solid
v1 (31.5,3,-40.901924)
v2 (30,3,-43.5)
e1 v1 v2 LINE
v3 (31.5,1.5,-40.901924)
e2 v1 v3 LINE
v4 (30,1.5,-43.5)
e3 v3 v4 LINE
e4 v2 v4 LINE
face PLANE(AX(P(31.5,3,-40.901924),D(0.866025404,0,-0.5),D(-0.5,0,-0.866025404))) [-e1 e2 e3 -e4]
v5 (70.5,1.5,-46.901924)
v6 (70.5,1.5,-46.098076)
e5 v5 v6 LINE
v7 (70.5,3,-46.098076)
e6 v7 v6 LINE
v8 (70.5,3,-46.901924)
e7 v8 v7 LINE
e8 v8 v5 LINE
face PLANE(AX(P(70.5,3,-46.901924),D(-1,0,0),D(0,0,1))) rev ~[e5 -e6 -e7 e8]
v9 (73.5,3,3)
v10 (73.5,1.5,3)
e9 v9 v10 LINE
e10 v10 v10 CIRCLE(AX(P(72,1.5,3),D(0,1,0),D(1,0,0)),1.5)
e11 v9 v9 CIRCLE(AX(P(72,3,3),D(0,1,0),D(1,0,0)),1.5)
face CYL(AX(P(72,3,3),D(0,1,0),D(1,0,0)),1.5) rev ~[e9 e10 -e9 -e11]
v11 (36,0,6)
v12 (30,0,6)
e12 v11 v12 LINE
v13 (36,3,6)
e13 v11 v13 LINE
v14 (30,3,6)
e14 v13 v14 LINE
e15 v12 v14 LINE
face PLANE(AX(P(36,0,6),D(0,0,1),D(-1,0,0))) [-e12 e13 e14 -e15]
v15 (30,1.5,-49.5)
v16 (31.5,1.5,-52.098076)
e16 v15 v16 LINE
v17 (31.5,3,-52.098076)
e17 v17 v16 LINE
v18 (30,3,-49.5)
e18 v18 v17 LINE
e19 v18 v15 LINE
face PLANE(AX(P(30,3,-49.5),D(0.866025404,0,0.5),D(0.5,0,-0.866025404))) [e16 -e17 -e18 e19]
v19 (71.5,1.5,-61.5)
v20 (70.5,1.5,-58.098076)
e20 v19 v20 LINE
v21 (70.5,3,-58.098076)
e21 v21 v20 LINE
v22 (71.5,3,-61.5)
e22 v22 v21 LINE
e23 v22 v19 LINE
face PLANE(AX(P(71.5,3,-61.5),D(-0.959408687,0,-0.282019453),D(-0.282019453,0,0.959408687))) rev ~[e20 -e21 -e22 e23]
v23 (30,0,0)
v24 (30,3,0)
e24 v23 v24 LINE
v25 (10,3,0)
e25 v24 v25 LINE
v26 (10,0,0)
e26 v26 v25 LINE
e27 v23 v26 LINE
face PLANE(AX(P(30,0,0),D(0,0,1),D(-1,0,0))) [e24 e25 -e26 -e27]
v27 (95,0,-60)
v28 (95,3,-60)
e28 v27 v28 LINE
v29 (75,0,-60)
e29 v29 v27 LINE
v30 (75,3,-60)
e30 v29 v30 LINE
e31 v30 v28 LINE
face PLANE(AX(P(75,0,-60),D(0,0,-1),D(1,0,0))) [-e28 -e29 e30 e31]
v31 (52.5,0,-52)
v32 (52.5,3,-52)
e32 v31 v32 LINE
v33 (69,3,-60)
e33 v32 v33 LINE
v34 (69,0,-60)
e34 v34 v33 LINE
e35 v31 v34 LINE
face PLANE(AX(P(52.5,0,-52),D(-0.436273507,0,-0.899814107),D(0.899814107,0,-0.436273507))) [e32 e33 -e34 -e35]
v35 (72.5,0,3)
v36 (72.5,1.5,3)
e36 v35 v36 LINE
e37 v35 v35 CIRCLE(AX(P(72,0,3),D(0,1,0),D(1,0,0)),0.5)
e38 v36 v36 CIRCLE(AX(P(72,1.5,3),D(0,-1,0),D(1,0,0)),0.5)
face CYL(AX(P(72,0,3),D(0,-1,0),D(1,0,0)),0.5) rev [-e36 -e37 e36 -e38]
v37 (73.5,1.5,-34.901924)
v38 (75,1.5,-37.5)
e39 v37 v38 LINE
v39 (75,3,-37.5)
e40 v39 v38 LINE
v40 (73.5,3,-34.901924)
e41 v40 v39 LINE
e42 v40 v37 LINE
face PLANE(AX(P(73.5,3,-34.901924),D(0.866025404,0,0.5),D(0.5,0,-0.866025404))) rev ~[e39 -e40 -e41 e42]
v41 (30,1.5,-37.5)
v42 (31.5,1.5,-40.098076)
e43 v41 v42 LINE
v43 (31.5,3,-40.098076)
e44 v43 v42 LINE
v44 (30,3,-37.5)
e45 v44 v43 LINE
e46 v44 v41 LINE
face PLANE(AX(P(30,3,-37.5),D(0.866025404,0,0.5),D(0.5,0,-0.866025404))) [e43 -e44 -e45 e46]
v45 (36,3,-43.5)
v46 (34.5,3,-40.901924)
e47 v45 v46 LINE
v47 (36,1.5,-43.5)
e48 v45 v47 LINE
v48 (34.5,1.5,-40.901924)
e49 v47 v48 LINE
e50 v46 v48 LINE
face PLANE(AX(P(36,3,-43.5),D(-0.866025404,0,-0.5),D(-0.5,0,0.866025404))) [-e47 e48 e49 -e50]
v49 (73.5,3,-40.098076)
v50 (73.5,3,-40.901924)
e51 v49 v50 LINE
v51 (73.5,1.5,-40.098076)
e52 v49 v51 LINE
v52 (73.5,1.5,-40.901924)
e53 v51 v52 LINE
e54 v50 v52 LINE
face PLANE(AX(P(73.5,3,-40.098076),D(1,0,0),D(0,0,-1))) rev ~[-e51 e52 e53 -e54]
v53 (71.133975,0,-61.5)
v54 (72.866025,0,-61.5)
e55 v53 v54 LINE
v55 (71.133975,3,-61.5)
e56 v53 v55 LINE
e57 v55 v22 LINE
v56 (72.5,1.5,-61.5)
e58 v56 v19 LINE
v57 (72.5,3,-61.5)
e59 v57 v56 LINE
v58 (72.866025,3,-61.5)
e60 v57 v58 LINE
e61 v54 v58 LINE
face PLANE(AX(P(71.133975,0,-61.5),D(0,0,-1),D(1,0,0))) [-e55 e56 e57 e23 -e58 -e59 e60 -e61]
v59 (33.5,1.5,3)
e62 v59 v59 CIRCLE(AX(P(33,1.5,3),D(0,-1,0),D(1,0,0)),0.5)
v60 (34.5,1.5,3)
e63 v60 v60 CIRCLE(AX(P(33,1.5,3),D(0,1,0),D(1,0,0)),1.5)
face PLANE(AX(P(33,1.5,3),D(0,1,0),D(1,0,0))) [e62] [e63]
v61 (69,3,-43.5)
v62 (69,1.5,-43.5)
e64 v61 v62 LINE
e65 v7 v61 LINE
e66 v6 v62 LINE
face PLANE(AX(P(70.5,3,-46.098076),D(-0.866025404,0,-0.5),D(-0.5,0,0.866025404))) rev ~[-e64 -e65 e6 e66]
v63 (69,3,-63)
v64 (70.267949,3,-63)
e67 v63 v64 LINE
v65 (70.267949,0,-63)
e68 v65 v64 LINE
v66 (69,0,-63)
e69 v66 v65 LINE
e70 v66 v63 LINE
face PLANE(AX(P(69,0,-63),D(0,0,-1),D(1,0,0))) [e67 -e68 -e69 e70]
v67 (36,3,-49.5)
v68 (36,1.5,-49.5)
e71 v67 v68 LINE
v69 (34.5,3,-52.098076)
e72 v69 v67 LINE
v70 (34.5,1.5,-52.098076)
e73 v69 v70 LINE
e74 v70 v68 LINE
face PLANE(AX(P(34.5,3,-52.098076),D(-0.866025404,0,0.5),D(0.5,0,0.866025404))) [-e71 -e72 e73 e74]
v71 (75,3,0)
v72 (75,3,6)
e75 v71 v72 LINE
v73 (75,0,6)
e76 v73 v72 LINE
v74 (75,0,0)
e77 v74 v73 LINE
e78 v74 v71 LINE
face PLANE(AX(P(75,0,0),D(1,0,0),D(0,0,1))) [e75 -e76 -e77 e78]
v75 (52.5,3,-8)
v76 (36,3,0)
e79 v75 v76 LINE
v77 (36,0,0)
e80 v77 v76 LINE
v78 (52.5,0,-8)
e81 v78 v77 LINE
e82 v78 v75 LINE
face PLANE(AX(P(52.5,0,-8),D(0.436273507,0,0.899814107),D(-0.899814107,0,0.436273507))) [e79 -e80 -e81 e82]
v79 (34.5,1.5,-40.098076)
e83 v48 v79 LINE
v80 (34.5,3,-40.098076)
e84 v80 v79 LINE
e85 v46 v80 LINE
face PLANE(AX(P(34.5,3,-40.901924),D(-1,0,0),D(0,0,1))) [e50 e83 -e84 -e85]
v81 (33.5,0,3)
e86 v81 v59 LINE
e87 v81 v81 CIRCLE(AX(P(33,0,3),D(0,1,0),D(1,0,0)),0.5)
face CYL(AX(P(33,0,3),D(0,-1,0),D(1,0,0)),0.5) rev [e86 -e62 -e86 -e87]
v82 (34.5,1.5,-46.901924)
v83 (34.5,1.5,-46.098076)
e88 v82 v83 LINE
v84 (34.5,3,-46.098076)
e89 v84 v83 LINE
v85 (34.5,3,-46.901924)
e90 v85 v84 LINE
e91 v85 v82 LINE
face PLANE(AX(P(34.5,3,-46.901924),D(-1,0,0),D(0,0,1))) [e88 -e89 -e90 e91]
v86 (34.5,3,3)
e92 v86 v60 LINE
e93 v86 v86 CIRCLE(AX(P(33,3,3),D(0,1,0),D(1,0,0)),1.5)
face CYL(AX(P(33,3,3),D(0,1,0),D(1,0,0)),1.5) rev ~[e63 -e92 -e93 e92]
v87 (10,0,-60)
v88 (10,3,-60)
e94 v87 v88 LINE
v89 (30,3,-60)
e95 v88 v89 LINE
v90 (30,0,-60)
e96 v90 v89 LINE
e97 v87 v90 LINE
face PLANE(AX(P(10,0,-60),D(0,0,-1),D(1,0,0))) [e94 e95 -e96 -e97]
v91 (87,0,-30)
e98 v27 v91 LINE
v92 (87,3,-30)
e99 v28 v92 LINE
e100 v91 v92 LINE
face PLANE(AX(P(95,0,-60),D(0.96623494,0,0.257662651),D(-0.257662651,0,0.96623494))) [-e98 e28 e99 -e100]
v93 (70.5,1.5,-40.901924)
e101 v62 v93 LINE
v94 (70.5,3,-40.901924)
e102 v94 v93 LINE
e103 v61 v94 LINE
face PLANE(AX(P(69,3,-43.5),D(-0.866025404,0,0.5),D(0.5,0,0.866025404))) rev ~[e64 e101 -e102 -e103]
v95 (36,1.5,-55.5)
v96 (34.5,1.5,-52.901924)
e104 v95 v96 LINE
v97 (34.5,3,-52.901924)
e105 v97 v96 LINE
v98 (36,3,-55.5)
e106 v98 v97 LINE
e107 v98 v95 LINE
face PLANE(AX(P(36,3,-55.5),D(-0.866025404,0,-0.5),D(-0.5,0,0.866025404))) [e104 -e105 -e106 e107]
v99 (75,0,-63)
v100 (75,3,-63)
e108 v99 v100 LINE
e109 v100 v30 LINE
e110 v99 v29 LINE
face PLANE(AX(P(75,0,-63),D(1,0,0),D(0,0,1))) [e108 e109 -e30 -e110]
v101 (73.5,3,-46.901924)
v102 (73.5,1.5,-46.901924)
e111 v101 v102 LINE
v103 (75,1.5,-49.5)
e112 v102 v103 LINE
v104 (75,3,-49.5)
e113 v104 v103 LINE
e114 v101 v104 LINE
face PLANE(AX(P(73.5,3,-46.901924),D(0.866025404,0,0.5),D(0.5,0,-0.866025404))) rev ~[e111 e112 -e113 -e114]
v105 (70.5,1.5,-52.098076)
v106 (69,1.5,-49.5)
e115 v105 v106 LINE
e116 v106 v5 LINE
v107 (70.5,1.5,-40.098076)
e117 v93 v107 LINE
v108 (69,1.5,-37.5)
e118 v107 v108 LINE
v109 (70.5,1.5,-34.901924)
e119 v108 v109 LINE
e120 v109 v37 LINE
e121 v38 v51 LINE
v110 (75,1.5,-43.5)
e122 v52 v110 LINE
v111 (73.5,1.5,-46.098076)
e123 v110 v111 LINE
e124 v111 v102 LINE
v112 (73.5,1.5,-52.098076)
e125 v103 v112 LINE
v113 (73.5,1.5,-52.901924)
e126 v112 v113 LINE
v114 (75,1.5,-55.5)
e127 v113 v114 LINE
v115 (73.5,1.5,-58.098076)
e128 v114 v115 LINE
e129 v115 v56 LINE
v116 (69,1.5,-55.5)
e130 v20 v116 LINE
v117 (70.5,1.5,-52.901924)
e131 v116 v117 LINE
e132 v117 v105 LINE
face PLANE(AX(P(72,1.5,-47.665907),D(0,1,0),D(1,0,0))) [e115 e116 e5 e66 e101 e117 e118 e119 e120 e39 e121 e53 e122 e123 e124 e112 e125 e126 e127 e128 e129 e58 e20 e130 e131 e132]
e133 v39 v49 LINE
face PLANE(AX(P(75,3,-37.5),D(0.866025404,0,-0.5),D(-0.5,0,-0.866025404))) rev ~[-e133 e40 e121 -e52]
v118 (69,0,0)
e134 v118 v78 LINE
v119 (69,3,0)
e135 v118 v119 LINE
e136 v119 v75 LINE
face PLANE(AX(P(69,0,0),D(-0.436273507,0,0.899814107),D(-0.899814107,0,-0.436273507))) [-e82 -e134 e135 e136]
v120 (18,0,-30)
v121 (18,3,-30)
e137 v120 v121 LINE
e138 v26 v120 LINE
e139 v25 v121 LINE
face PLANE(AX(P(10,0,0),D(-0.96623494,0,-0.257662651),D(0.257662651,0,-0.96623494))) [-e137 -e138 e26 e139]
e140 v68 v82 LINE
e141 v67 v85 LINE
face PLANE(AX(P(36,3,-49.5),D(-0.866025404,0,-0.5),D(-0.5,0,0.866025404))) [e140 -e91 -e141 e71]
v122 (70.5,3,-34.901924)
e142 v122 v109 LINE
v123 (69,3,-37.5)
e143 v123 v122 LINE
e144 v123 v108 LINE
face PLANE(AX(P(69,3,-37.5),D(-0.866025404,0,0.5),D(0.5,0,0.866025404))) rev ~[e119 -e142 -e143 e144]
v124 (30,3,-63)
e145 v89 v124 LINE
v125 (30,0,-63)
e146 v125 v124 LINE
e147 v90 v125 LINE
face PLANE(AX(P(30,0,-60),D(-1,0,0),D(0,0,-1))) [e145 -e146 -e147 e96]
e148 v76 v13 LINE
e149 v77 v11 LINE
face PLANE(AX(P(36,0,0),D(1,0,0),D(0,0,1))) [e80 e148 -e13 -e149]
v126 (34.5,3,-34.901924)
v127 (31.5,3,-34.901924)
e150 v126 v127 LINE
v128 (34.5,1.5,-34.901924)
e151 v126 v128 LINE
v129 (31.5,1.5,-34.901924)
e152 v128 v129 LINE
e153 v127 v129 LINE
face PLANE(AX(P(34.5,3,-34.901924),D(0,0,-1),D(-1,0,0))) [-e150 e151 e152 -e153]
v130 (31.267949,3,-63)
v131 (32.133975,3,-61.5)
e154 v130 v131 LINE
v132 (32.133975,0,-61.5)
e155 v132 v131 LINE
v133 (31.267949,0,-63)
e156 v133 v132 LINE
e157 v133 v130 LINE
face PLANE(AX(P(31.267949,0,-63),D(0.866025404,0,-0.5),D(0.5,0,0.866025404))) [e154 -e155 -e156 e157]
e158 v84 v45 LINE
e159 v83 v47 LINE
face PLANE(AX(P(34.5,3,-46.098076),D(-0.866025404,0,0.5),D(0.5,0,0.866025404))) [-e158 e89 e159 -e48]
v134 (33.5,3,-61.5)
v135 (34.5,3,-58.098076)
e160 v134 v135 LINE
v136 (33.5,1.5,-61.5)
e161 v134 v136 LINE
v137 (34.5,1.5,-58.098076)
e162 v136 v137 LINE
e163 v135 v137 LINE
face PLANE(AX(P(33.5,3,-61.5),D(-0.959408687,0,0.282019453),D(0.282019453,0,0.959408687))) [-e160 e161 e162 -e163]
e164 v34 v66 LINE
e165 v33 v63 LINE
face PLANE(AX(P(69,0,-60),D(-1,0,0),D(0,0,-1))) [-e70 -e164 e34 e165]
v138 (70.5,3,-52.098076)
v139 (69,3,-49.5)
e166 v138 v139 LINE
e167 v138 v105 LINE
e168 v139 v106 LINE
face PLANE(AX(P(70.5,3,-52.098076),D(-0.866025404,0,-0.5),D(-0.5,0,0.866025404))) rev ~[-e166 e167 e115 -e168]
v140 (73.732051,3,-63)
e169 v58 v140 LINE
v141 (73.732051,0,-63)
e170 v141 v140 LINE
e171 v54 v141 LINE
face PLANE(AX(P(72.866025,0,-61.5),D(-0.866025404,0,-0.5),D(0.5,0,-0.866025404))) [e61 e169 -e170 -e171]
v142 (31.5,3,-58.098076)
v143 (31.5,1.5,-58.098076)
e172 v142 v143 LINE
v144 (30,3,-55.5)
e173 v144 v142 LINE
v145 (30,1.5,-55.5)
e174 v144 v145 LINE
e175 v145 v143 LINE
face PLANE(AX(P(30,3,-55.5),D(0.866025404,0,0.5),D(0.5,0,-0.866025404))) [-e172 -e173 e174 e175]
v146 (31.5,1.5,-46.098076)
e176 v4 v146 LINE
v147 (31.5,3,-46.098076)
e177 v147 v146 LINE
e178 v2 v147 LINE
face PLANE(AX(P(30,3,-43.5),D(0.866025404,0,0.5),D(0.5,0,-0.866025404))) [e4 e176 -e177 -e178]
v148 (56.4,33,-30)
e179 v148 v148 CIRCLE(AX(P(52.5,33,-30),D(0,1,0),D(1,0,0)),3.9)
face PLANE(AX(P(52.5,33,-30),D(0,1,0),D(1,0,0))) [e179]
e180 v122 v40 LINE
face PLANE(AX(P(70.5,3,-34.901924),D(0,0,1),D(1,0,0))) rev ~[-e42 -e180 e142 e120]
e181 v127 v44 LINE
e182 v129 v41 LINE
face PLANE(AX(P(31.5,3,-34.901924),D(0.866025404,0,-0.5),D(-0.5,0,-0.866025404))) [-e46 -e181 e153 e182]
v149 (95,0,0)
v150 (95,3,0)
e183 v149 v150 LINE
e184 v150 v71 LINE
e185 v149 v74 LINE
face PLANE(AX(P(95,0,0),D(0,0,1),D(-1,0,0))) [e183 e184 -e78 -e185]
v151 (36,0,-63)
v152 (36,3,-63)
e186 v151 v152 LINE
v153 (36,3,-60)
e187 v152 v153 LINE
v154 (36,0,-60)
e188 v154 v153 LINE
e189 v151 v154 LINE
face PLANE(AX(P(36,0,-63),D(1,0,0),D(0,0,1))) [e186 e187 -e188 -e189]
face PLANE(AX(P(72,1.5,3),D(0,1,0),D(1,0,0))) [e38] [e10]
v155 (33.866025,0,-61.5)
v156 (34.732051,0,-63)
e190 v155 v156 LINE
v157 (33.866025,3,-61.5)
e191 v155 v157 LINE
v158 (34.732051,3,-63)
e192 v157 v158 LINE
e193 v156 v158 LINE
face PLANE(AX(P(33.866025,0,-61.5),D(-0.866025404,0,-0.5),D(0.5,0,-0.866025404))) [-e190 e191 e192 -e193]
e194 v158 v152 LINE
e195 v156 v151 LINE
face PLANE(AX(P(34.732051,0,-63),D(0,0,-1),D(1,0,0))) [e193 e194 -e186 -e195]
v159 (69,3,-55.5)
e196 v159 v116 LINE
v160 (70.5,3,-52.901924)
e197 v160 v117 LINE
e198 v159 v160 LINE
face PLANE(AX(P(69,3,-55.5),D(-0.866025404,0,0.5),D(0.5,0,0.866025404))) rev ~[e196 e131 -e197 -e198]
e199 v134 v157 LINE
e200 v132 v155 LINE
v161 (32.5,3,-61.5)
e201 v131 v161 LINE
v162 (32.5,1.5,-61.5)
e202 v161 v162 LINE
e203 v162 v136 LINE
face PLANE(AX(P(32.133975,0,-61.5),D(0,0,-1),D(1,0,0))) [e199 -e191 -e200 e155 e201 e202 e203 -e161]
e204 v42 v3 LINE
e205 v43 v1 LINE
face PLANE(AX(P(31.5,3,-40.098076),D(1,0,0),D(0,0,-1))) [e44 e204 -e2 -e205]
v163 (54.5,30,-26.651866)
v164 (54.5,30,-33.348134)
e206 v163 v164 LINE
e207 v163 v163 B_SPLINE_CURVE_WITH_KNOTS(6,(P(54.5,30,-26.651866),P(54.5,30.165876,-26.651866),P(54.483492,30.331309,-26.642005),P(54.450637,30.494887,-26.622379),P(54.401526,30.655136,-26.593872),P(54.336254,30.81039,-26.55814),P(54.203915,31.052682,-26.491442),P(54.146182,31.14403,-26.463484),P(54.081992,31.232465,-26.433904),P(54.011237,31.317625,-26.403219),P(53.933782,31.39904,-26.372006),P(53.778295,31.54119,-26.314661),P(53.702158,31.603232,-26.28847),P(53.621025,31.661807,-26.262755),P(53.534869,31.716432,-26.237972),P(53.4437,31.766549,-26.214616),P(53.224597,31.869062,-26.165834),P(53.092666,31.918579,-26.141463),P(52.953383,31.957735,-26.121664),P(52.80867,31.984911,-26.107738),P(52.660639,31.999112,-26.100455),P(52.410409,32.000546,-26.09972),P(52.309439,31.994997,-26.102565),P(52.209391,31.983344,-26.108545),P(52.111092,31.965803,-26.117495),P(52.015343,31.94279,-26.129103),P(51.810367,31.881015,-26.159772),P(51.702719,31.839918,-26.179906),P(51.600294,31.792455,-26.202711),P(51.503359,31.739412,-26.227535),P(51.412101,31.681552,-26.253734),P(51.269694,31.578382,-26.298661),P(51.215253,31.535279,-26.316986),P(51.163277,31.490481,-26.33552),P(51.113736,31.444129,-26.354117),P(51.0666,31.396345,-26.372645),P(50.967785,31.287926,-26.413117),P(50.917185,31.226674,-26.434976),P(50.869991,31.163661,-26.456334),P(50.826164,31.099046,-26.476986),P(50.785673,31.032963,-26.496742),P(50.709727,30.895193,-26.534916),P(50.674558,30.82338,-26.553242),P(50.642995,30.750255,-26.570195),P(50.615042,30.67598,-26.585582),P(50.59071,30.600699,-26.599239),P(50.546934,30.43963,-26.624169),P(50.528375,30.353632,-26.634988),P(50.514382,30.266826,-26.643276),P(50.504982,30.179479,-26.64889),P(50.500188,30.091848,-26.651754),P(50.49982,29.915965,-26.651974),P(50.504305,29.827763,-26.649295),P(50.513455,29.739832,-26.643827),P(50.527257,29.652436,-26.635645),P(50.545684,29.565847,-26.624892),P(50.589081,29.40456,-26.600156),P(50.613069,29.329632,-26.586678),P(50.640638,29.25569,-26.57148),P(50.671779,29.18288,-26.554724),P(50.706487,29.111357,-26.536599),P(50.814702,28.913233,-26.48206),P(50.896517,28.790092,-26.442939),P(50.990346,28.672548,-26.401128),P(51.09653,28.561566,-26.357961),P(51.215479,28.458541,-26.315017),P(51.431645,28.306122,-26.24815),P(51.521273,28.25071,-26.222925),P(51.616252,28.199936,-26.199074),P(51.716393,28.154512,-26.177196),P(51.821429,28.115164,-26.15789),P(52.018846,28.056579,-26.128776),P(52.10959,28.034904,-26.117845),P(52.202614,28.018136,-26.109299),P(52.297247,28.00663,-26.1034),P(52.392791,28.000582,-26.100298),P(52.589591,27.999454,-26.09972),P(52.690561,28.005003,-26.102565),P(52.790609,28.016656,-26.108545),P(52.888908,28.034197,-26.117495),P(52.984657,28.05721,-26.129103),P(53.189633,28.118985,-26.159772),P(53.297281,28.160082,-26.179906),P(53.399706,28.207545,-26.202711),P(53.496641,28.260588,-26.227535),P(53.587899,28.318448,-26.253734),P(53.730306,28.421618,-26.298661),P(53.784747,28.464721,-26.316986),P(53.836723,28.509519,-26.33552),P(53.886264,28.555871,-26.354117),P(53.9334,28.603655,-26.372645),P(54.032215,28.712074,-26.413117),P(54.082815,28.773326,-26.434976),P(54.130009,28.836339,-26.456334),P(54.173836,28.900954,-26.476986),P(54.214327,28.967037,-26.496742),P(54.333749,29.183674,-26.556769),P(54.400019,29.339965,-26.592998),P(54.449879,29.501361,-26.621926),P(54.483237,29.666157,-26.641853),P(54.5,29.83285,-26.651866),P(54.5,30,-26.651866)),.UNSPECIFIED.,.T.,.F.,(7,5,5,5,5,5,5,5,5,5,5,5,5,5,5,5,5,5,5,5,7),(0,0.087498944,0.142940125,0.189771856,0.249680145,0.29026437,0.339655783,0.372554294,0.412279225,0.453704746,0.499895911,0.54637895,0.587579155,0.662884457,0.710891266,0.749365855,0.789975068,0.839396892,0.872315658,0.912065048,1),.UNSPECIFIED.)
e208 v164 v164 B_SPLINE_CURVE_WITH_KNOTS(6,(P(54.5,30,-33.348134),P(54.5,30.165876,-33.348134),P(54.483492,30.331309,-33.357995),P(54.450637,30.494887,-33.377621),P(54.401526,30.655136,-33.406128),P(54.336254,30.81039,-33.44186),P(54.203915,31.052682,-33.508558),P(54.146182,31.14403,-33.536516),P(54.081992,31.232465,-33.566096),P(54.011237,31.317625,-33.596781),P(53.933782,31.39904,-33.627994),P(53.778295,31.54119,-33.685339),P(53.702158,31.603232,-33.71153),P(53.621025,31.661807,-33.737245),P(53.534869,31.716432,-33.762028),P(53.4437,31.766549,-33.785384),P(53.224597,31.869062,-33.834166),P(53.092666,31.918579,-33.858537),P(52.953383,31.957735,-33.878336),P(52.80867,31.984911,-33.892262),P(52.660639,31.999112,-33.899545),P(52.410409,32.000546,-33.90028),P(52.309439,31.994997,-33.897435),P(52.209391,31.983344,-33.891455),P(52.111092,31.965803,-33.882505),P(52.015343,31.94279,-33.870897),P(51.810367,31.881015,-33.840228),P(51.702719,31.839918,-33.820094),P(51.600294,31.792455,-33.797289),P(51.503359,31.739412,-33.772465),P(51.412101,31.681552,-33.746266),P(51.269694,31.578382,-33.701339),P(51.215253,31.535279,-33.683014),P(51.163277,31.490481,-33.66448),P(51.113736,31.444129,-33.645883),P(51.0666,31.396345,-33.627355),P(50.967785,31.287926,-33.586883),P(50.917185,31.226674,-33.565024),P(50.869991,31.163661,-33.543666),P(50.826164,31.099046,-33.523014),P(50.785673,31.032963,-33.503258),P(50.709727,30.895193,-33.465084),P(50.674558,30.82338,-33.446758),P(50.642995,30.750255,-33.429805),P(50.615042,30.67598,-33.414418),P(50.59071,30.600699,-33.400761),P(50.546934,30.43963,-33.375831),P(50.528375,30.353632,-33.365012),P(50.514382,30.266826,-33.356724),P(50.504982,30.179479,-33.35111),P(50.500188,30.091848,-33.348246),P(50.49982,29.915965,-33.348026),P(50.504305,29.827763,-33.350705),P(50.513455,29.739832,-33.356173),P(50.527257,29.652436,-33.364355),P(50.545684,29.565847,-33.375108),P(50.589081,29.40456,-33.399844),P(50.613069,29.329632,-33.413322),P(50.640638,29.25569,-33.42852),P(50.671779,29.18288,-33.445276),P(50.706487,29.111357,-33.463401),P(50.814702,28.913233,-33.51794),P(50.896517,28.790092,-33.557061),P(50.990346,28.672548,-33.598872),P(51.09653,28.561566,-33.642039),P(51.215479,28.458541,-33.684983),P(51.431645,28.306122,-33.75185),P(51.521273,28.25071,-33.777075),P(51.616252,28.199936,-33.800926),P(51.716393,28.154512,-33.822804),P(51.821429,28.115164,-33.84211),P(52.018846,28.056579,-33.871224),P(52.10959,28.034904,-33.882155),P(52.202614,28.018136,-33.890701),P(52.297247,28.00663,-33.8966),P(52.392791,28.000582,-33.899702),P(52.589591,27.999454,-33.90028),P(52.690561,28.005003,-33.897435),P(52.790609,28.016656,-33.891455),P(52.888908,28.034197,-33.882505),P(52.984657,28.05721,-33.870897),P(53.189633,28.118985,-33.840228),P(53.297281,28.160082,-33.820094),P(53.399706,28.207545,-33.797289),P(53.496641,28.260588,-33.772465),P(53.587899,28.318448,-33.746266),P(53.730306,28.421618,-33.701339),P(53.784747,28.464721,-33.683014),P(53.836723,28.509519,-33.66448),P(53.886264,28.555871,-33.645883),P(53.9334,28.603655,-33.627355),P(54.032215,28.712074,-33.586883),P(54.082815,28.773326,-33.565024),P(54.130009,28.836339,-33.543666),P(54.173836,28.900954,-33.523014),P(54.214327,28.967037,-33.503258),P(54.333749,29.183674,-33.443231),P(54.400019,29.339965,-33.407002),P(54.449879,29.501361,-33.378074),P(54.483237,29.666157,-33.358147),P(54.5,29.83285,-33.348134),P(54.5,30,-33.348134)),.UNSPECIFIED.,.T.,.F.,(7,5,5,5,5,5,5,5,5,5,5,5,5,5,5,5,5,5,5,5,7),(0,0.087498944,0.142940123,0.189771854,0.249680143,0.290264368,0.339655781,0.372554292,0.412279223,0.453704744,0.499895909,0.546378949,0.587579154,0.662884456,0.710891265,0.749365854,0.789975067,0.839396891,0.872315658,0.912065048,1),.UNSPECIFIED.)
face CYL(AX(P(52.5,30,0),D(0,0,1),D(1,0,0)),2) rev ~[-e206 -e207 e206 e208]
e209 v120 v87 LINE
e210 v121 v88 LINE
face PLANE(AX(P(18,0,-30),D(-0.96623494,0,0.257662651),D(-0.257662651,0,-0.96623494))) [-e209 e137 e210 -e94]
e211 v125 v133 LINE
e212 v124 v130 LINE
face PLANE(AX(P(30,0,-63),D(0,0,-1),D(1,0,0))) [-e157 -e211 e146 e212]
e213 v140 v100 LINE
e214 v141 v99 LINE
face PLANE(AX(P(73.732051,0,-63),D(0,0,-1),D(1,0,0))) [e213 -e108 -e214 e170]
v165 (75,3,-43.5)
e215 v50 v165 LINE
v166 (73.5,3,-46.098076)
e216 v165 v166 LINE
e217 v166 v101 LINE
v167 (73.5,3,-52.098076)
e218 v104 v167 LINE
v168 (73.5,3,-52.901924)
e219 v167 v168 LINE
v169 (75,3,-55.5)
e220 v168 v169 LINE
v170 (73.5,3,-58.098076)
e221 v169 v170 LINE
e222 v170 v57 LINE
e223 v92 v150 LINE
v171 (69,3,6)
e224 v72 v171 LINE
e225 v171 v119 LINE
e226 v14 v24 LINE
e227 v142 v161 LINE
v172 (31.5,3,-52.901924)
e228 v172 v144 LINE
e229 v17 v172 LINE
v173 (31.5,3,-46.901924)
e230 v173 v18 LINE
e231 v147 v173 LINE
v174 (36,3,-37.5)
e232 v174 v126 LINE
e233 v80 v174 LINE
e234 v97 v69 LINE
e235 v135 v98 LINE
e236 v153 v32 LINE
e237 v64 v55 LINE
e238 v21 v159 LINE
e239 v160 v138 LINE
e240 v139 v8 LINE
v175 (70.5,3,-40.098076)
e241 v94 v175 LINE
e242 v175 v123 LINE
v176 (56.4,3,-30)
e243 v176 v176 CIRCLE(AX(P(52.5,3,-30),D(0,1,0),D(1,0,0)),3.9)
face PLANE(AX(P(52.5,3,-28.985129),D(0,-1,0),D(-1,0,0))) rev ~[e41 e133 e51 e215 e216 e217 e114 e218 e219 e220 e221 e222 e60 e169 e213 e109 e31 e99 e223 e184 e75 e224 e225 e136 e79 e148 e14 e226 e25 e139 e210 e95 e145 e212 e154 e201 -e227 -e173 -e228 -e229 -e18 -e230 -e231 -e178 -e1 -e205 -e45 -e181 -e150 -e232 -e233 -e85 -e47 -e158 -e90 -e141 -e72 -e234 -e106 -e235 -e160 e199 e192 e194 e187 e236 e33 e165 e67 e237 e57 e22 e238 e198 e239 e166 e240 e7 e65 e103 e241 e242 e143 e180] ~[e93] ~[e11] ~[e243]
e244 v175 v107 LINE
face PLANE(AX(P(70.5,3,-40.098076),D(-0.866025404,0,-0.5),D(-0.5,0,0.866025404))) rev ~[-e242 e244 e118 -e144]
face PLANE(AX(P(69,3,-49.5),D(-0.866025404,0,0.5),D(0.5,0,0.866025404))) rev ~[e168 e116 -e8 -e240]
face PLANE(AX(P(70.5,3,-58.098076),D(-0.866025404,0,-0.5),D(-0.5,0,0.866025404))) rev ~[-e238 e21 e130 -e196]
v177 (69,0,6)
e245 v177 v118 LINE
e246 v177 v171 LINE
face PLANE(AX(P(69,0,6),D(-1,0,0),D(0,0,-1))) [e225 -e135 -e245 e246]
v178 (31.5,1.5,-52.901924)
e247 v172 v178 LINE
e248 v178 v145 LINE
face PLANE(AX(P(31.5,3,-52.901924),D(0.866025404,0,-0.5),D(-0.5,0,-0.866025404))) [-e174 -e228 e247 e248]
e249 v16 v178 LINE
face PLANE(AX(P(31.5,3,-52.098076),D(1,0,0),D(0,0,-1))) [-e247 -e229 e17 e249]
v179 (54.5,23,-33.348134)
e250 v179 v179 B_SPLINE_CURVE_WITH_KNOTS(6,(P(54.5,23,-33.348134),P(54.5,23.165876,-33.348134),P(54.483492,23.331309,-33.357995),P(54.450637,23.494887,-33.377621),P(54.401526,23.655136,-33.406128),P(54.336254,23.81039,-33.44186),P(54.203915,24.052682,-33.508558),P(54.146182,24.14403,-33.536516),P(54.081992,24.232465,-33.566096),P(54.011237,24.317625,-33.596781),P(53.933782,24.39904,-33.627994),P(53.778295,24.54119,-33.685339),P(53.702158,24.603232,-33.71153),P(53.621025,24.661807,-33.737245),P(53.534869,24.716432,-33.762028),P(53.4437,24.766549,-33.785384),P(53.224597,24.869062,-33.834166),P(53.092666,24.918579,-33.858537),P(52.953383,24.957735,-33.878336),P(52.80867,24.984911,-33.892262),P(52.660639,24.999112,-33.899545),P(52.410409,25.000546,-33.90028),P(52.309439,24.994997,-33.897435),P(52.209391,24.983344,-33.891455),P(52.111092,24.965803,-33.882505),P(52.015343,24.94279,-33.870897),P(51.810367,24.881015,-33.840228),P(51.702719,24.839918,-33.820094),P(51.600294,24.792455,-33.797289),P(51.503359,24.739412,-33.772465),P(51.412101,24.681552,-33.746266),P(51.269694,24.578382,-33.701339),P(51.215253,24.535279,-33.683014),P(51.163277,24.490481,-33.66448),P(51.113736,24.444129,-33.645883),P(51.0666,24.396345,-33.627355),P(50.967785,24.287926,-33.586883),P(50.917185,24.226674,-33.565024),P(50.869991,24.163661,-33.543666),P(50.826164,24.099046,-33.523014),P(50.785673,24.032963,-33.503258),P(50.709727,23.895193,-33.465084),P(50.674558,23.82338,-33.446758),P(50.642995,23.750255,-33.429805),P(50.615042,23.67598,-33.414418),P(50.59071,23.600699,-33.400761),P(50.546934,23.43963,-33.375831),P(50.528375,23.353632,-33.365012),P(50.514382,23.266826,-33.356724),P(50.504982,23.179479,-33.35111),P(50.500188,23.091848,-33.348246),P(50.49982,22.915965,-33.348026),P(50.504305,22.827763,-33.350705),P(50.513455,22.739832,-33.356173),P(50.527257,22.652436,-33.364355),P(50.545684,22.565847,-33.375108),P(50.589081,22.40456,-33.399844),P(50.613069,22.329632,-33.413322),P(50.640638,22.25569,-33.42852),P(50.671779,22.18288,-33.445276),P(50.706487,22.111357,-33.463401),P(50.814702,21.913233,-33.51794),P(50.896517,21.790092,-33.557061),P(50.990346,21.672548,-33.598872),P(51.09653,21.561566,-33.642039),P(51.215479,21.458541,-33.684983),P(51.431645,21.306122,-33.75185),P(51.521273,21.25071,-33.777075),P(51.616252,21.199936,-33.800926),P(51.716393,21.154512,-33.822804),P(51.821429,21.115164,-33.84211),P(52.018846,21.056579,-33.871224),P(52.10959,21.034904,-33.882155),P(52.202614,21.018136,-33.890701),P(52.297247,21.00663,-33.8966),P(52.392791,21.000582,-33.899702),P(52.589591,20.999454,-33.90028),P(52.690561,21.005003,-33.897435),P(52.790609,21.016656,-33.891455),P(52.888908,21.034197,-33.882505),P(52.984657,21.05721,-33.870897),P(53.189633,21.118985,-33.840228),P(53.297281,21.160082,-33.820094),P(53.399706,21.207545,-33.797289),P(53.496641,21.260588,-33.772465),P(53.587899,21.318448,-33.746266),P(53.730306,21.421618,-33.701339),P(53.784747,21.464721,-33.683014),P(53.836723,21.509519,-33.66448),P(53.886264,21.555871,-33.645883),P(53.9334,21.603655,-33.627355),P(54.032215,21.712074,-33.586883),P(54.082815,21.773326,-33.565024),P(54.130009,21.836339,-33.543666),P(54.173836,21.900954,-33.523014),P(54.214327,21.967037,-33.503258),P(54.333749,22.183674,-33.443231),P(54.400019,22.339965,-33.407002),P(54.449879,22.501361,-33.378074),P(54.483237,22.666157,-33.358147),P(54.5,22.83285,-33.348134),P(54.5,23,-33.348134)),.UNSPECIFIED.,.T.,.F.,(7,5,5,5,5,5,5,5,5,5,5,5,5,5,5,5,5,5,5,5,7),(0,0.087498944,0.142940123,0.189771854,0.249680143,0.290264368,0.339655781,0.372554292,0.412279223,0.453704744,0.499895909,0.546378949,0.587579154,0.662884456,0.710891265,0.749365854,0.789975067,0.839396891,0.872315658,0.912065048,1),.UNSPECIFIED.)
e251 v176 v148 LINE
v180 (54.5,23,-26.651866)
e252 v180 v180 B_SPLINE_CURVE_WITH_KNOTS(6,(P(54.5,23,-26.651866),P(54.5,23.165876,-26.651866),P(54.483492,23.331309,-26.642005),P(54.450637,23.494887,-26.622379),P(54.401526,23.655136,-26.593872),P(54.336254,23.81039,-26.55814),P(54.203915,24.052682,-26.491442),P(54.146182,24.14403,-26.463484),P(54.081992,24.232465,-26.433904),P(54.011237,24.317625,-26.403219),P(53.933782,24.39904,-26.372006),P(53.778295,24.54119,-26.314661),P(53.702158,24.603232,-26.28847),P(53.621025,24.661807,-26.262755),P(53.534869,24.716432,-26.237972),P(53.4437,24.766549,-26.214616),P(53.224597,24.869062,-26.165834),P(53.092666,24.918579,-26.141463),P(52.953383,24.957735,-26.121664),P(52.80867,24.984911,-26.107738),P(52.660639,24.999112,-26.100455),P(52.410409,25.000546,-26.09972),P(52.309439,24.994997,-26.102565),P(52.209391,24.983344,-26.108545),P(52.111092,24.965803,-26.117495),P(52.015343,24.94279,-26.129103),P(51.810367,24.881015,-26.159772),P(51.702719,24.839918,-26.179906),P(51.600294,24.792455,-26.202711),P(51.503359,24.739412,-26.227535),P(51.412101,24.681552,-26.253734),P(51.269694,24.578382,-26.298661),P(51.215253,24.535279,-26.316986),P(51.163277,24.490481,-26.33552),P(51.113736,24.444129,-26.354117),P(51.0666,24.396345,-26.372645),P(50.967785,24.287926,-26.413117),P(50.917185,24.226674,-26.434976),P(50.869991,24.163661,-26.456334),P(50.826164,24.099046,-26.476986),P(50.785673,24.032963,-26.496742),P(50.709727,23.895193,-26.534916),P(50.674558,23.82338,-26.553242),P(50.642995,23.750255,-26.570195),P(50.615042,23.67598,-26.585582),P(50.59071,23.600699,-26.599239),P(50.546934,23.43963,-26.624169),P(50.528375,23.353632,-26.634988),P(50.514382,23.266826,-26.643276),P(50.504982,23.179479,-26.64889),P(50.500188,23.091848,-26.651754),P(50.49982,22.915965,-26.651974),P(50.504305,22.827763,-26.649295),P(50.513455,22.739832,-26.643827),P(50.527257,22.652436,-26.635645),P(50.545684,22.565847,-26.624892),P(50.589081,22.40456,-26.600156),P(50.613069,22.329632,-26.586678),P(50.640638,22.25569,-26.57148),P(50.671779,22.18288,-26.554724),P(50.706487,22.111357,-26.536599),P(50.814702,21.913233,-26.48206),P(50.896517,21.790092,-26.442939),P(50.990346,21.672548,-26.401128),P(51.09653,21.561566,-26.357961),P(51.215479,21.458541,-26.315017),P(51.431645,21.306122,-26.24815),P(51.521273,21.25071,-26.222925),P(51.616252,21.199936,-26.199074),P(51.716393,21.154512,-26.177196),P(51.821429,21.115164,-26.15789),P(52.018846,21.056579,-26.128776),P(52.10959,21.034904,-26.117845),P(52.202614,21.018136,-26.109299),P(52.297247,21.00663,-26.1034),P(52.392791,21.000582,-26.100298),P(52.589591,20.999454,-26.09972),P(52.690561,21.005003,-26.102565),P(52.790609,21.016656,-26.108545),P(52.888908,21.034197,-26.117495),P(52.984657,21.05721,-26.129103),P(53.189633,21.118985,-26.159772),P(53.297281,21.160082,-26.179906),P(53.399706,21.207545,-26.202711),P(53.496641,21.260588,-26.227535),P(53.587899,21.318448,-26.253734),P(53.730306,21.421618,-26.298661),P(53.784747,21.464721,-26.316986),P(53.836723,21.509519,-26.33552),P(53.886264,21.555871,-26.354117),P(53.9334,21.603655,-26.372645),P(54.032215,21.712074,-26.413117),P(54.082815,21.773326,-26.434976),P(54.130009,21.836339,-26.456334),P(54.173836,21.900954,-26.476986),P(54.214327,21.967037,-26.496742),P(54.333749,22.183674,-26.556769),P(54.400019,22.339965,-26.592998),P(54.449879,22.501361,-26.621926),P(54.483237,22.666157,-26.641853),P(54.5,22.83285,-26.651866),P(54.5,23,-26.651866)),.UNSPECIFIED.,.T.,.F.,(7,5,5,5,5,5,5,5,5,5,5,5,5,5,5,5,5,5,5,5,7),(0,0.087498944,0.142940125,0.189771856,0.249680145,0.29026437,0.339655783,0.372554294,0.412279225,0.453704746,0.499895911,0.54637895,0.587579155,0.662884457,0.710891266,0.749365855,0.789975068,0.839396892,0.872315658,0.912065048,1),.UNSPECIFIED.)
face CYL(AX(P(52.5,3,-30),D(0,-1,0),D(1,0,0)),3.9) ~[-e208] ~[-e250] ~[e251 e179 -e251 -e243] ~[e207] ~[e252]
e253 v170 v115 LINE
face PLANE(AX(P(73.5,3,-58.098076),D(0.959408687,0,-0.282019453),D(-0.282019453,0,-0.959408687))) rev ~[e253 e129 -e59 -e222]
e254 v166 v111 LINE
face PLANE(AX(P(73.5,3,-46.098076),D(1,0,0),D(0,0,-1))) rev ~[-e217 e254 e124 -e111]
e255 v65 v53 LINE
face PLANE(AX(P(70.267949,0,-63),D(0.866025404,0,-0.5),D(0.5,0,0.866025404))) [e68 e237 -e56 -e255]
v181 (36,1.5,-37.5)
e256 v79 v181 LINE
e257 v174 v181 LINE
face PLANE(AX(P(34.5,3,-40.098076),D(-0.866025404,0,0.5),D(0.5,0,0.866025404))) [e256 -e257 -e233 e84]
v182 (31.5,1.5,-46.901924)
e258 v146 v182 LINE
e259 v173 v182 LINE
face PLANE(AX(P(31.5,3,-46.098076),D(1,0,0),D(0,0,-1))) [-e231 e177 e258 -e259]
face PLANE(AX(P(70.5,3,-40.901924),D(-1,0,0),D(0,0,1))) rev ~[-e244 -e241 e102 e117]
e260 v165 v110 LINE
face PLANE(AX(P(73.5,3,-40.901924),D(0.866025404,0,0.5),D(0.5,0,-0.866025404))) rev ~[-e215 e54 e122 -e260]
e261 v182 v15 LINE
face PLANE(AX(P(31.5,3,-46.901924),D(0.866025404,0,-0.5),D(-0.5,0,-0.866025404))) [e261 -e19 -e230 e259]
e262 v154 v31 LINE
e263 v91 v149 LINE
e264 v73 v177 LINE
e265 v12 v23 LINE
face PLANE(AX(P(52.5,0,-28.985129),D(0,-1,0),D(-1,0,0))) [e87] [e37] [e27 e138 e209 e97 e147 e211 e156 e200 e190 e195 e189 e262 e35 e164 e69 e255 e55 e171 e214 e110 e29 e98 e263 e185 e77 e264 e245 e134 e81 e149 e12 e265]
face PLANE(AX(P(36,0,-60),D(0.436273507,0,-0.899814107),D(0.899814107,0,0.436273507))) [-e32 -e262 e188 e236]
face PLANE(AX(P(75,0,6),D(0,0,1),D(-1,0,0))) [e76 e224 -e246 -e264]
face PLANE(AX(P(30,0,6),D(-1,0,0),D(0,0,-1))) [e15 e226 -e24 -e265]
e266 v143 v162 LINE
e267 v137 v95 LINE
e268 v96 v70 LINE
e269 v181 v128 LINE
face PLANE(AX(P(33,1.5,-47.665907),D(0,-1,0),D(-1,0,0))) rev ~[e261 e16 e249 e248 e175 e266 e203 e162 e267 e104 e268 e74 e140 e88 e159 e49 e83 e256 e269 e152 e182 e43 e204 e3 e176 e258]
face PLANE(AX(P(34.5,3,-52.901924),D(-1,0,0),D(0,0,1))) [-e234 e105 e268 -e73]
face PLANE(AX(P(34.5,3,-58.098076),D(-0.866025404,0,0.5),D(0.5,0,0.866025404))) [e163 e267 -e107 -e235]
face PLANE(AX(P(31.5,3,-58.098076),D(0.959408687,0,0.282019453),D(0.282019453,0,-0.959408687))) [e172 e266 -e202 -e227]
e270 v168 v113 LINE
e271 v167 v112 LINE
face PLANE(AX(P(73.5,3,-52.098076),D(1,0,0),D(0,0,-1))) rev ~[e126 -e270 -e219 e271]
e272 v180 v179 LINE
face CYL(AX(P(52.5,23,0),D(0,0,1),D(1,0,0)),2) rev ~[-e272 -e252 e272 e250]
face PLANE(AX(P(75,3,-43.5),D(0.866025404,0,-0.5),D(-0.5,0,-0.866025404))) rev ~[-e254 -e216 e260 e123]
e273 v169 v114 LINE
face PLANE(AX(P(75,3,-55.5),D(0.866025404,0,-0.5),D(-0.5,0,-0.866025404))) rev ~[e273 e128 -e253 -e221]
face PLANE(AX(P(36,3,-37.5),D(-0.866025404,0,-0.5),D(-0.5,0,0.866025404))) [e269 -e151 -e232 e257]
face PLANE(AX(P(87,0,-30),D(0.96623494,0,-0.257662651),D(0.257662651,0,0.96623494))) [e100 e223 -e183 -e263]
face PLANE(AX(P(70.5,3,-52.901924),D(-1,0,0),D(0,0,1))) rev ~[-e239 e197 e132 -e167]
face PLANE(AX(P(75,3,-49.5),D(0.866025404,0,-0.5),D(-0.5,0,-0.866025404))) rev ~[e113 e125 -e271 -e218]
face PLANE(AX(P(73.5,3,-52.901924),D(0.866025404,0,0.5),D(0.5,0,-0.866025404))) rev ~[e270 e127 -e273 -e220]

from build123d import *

# Parameters (mm, degrees)
CROQUIS1_R              = 0.5
SALIENTE_EXTRUIR1_DEPTH = 3
CROQUIS2_R              = 3.9
SALIENTE_EXTRUIR2_DEPTH = 30
CROQUIS3_R              = 2
CORTAR_EXTRUIR1_DEPTH   = 64
CROQUIS4_R              = 1.5
CORTAR_EXTRUIR2_DEPTH   = 1.5
CORTAR_EXTRUIR3_DEPTH   = 1.5


with BuildPart() as part:
    # Croquis1 → Saliente-Extruir1 (new body)
    with BuildSketch(Plane(origin=(0, 0, 0), x_dir=(1, 0, 0), z_dir=(0, 1, 0))):
        Polygon((30, 60), (30, 63), (31.267949192, 63), (32.133974596, 61.5), (33.866025404, 61.5), (34.732050808, 63), (36, 63), (36, 60), (52.5, 52), (69, 60), (69, 63), (70.267949192, 63), (71.133974596, 61.5), (72.866025404, 61.5), (73.732050808, 63), (75, 63), (75, 60), (95, 60), (87, 30), (95, 0), (75, 0), (75, -6), (69, -6), (69, 0), (52.5, 8), (36, 0), (36, -6), (30, -6), (30, 0), (10, 0), (18, 30), (10, 60), align=None)
        with Locations((33, -3)):
            Circle(CROQUIS1_R, mode=Mode.SUBTRACT)
        with Locations((72, -3)):
            Circle(CROQUIS1_R, mode=Mode.SUBTRACT)
    extrude(amount=SALIENTE_EXTRUIR1_DEPTH)

    # Croquis2 → Saliente-Extruir2 (add)
    with BuildSketch(Plane(origin=(0, 3, 0), x_dir=(1, 0, 0), z_dir=(0, 1, 0))):
        with Locations((52.5, 30)):
            Circle(CROQUIS2_R)
    extrude(amount=SALIENTE_EXTRUIR2_DEPTH)

    # Croquis3 → Cortar-Extruir1 (cut, through all)
    with BuildSketch(Plane.XY):
        with Locations((52.5, 30)):
            Circle(CROQUIS3_R)
        with Locations((52.5, 23)):
            Circle(CROQUIS3_R)
    extrude(amount=-CORTAR_EXTRUIR1_DEPTH, mode=Mode.SUBTRACT)

    # Croquis4 → Cortar-Extruir2 (cut)
    with BuildSketch(Plane(origin=(0, 3, 0), x_dir=(1, 0, 0), z_dir=(0, 1, 0))):
        with Locations((33, -3)):
            Circle(CROQUIS4_R)
        with Locations((72, -3)):
            Circle(CROQUIS4_R)
    extrude(amount=-CORTAR_EXTRUIR2_DEPTH, mode=Mode.SUBTRACT)

    # Croquis5 → Cortar-Extruir3 (cut)
    with BuildSketch(Plane(origin=(0, 3, 0), x_dir=(1, 0, 0), z_dir=(0, 1, 0))):
        Polygon((32.5, 61.5), (33.5, 61.5), (34.5, 58.098076211), (36, 55.5), (34.5, 52.901923789), (34.5, 52.098076211), (36, 49.5), (34.5, 46.901923789), (34.5, 46.098076211), (36, 43.5), (34.5, 40.901923789), (34.5, 40.098076211), (36, 37.5), (34.5, 34.901923789), (31.5, 34.901923789), (30, 37.5), (31.5, 40.098076211), (31.5, 40.901923789), (30, 43.5), (31.5, 46.098076211), (31.5, 46.901923789), (30, 49.5), (31.5, 52.098076211), (31.5, 52.901923789), (30, 55.5), (31.5, 58.098076211), align=None)
        Polygon((71.5, 61.5), (70.5, 58.098076211), (69, 55.5), (70.5, 52.901923789), (70.5, 52.098076211), (69, 49.5), (70.5, 46.901923789), (70.5, 46.098076211), (69, 43.5), (70.5, 40.901923789), (70.5, 40.098076211), (69, 37.5), (70.5, 34.901923789), (73.5, 34.901923789), (75, 37.5), (73.5, 40.098076211), (73.5, 40.901923789), (75, 43.5), (73.5, 46.098076211), (73.5, 46.901923789), (75, 49.5), (73.5, 52.098076211), (73.5, 52.901923789), (75, 55.5), (73.5, 58.098076211), (72.5, 61.5), align=None)
    extrude(amount=-CORTAR_EXTRUIR3_DEPTH, mode=Mode.SUBTRACT)


solid = part.part
